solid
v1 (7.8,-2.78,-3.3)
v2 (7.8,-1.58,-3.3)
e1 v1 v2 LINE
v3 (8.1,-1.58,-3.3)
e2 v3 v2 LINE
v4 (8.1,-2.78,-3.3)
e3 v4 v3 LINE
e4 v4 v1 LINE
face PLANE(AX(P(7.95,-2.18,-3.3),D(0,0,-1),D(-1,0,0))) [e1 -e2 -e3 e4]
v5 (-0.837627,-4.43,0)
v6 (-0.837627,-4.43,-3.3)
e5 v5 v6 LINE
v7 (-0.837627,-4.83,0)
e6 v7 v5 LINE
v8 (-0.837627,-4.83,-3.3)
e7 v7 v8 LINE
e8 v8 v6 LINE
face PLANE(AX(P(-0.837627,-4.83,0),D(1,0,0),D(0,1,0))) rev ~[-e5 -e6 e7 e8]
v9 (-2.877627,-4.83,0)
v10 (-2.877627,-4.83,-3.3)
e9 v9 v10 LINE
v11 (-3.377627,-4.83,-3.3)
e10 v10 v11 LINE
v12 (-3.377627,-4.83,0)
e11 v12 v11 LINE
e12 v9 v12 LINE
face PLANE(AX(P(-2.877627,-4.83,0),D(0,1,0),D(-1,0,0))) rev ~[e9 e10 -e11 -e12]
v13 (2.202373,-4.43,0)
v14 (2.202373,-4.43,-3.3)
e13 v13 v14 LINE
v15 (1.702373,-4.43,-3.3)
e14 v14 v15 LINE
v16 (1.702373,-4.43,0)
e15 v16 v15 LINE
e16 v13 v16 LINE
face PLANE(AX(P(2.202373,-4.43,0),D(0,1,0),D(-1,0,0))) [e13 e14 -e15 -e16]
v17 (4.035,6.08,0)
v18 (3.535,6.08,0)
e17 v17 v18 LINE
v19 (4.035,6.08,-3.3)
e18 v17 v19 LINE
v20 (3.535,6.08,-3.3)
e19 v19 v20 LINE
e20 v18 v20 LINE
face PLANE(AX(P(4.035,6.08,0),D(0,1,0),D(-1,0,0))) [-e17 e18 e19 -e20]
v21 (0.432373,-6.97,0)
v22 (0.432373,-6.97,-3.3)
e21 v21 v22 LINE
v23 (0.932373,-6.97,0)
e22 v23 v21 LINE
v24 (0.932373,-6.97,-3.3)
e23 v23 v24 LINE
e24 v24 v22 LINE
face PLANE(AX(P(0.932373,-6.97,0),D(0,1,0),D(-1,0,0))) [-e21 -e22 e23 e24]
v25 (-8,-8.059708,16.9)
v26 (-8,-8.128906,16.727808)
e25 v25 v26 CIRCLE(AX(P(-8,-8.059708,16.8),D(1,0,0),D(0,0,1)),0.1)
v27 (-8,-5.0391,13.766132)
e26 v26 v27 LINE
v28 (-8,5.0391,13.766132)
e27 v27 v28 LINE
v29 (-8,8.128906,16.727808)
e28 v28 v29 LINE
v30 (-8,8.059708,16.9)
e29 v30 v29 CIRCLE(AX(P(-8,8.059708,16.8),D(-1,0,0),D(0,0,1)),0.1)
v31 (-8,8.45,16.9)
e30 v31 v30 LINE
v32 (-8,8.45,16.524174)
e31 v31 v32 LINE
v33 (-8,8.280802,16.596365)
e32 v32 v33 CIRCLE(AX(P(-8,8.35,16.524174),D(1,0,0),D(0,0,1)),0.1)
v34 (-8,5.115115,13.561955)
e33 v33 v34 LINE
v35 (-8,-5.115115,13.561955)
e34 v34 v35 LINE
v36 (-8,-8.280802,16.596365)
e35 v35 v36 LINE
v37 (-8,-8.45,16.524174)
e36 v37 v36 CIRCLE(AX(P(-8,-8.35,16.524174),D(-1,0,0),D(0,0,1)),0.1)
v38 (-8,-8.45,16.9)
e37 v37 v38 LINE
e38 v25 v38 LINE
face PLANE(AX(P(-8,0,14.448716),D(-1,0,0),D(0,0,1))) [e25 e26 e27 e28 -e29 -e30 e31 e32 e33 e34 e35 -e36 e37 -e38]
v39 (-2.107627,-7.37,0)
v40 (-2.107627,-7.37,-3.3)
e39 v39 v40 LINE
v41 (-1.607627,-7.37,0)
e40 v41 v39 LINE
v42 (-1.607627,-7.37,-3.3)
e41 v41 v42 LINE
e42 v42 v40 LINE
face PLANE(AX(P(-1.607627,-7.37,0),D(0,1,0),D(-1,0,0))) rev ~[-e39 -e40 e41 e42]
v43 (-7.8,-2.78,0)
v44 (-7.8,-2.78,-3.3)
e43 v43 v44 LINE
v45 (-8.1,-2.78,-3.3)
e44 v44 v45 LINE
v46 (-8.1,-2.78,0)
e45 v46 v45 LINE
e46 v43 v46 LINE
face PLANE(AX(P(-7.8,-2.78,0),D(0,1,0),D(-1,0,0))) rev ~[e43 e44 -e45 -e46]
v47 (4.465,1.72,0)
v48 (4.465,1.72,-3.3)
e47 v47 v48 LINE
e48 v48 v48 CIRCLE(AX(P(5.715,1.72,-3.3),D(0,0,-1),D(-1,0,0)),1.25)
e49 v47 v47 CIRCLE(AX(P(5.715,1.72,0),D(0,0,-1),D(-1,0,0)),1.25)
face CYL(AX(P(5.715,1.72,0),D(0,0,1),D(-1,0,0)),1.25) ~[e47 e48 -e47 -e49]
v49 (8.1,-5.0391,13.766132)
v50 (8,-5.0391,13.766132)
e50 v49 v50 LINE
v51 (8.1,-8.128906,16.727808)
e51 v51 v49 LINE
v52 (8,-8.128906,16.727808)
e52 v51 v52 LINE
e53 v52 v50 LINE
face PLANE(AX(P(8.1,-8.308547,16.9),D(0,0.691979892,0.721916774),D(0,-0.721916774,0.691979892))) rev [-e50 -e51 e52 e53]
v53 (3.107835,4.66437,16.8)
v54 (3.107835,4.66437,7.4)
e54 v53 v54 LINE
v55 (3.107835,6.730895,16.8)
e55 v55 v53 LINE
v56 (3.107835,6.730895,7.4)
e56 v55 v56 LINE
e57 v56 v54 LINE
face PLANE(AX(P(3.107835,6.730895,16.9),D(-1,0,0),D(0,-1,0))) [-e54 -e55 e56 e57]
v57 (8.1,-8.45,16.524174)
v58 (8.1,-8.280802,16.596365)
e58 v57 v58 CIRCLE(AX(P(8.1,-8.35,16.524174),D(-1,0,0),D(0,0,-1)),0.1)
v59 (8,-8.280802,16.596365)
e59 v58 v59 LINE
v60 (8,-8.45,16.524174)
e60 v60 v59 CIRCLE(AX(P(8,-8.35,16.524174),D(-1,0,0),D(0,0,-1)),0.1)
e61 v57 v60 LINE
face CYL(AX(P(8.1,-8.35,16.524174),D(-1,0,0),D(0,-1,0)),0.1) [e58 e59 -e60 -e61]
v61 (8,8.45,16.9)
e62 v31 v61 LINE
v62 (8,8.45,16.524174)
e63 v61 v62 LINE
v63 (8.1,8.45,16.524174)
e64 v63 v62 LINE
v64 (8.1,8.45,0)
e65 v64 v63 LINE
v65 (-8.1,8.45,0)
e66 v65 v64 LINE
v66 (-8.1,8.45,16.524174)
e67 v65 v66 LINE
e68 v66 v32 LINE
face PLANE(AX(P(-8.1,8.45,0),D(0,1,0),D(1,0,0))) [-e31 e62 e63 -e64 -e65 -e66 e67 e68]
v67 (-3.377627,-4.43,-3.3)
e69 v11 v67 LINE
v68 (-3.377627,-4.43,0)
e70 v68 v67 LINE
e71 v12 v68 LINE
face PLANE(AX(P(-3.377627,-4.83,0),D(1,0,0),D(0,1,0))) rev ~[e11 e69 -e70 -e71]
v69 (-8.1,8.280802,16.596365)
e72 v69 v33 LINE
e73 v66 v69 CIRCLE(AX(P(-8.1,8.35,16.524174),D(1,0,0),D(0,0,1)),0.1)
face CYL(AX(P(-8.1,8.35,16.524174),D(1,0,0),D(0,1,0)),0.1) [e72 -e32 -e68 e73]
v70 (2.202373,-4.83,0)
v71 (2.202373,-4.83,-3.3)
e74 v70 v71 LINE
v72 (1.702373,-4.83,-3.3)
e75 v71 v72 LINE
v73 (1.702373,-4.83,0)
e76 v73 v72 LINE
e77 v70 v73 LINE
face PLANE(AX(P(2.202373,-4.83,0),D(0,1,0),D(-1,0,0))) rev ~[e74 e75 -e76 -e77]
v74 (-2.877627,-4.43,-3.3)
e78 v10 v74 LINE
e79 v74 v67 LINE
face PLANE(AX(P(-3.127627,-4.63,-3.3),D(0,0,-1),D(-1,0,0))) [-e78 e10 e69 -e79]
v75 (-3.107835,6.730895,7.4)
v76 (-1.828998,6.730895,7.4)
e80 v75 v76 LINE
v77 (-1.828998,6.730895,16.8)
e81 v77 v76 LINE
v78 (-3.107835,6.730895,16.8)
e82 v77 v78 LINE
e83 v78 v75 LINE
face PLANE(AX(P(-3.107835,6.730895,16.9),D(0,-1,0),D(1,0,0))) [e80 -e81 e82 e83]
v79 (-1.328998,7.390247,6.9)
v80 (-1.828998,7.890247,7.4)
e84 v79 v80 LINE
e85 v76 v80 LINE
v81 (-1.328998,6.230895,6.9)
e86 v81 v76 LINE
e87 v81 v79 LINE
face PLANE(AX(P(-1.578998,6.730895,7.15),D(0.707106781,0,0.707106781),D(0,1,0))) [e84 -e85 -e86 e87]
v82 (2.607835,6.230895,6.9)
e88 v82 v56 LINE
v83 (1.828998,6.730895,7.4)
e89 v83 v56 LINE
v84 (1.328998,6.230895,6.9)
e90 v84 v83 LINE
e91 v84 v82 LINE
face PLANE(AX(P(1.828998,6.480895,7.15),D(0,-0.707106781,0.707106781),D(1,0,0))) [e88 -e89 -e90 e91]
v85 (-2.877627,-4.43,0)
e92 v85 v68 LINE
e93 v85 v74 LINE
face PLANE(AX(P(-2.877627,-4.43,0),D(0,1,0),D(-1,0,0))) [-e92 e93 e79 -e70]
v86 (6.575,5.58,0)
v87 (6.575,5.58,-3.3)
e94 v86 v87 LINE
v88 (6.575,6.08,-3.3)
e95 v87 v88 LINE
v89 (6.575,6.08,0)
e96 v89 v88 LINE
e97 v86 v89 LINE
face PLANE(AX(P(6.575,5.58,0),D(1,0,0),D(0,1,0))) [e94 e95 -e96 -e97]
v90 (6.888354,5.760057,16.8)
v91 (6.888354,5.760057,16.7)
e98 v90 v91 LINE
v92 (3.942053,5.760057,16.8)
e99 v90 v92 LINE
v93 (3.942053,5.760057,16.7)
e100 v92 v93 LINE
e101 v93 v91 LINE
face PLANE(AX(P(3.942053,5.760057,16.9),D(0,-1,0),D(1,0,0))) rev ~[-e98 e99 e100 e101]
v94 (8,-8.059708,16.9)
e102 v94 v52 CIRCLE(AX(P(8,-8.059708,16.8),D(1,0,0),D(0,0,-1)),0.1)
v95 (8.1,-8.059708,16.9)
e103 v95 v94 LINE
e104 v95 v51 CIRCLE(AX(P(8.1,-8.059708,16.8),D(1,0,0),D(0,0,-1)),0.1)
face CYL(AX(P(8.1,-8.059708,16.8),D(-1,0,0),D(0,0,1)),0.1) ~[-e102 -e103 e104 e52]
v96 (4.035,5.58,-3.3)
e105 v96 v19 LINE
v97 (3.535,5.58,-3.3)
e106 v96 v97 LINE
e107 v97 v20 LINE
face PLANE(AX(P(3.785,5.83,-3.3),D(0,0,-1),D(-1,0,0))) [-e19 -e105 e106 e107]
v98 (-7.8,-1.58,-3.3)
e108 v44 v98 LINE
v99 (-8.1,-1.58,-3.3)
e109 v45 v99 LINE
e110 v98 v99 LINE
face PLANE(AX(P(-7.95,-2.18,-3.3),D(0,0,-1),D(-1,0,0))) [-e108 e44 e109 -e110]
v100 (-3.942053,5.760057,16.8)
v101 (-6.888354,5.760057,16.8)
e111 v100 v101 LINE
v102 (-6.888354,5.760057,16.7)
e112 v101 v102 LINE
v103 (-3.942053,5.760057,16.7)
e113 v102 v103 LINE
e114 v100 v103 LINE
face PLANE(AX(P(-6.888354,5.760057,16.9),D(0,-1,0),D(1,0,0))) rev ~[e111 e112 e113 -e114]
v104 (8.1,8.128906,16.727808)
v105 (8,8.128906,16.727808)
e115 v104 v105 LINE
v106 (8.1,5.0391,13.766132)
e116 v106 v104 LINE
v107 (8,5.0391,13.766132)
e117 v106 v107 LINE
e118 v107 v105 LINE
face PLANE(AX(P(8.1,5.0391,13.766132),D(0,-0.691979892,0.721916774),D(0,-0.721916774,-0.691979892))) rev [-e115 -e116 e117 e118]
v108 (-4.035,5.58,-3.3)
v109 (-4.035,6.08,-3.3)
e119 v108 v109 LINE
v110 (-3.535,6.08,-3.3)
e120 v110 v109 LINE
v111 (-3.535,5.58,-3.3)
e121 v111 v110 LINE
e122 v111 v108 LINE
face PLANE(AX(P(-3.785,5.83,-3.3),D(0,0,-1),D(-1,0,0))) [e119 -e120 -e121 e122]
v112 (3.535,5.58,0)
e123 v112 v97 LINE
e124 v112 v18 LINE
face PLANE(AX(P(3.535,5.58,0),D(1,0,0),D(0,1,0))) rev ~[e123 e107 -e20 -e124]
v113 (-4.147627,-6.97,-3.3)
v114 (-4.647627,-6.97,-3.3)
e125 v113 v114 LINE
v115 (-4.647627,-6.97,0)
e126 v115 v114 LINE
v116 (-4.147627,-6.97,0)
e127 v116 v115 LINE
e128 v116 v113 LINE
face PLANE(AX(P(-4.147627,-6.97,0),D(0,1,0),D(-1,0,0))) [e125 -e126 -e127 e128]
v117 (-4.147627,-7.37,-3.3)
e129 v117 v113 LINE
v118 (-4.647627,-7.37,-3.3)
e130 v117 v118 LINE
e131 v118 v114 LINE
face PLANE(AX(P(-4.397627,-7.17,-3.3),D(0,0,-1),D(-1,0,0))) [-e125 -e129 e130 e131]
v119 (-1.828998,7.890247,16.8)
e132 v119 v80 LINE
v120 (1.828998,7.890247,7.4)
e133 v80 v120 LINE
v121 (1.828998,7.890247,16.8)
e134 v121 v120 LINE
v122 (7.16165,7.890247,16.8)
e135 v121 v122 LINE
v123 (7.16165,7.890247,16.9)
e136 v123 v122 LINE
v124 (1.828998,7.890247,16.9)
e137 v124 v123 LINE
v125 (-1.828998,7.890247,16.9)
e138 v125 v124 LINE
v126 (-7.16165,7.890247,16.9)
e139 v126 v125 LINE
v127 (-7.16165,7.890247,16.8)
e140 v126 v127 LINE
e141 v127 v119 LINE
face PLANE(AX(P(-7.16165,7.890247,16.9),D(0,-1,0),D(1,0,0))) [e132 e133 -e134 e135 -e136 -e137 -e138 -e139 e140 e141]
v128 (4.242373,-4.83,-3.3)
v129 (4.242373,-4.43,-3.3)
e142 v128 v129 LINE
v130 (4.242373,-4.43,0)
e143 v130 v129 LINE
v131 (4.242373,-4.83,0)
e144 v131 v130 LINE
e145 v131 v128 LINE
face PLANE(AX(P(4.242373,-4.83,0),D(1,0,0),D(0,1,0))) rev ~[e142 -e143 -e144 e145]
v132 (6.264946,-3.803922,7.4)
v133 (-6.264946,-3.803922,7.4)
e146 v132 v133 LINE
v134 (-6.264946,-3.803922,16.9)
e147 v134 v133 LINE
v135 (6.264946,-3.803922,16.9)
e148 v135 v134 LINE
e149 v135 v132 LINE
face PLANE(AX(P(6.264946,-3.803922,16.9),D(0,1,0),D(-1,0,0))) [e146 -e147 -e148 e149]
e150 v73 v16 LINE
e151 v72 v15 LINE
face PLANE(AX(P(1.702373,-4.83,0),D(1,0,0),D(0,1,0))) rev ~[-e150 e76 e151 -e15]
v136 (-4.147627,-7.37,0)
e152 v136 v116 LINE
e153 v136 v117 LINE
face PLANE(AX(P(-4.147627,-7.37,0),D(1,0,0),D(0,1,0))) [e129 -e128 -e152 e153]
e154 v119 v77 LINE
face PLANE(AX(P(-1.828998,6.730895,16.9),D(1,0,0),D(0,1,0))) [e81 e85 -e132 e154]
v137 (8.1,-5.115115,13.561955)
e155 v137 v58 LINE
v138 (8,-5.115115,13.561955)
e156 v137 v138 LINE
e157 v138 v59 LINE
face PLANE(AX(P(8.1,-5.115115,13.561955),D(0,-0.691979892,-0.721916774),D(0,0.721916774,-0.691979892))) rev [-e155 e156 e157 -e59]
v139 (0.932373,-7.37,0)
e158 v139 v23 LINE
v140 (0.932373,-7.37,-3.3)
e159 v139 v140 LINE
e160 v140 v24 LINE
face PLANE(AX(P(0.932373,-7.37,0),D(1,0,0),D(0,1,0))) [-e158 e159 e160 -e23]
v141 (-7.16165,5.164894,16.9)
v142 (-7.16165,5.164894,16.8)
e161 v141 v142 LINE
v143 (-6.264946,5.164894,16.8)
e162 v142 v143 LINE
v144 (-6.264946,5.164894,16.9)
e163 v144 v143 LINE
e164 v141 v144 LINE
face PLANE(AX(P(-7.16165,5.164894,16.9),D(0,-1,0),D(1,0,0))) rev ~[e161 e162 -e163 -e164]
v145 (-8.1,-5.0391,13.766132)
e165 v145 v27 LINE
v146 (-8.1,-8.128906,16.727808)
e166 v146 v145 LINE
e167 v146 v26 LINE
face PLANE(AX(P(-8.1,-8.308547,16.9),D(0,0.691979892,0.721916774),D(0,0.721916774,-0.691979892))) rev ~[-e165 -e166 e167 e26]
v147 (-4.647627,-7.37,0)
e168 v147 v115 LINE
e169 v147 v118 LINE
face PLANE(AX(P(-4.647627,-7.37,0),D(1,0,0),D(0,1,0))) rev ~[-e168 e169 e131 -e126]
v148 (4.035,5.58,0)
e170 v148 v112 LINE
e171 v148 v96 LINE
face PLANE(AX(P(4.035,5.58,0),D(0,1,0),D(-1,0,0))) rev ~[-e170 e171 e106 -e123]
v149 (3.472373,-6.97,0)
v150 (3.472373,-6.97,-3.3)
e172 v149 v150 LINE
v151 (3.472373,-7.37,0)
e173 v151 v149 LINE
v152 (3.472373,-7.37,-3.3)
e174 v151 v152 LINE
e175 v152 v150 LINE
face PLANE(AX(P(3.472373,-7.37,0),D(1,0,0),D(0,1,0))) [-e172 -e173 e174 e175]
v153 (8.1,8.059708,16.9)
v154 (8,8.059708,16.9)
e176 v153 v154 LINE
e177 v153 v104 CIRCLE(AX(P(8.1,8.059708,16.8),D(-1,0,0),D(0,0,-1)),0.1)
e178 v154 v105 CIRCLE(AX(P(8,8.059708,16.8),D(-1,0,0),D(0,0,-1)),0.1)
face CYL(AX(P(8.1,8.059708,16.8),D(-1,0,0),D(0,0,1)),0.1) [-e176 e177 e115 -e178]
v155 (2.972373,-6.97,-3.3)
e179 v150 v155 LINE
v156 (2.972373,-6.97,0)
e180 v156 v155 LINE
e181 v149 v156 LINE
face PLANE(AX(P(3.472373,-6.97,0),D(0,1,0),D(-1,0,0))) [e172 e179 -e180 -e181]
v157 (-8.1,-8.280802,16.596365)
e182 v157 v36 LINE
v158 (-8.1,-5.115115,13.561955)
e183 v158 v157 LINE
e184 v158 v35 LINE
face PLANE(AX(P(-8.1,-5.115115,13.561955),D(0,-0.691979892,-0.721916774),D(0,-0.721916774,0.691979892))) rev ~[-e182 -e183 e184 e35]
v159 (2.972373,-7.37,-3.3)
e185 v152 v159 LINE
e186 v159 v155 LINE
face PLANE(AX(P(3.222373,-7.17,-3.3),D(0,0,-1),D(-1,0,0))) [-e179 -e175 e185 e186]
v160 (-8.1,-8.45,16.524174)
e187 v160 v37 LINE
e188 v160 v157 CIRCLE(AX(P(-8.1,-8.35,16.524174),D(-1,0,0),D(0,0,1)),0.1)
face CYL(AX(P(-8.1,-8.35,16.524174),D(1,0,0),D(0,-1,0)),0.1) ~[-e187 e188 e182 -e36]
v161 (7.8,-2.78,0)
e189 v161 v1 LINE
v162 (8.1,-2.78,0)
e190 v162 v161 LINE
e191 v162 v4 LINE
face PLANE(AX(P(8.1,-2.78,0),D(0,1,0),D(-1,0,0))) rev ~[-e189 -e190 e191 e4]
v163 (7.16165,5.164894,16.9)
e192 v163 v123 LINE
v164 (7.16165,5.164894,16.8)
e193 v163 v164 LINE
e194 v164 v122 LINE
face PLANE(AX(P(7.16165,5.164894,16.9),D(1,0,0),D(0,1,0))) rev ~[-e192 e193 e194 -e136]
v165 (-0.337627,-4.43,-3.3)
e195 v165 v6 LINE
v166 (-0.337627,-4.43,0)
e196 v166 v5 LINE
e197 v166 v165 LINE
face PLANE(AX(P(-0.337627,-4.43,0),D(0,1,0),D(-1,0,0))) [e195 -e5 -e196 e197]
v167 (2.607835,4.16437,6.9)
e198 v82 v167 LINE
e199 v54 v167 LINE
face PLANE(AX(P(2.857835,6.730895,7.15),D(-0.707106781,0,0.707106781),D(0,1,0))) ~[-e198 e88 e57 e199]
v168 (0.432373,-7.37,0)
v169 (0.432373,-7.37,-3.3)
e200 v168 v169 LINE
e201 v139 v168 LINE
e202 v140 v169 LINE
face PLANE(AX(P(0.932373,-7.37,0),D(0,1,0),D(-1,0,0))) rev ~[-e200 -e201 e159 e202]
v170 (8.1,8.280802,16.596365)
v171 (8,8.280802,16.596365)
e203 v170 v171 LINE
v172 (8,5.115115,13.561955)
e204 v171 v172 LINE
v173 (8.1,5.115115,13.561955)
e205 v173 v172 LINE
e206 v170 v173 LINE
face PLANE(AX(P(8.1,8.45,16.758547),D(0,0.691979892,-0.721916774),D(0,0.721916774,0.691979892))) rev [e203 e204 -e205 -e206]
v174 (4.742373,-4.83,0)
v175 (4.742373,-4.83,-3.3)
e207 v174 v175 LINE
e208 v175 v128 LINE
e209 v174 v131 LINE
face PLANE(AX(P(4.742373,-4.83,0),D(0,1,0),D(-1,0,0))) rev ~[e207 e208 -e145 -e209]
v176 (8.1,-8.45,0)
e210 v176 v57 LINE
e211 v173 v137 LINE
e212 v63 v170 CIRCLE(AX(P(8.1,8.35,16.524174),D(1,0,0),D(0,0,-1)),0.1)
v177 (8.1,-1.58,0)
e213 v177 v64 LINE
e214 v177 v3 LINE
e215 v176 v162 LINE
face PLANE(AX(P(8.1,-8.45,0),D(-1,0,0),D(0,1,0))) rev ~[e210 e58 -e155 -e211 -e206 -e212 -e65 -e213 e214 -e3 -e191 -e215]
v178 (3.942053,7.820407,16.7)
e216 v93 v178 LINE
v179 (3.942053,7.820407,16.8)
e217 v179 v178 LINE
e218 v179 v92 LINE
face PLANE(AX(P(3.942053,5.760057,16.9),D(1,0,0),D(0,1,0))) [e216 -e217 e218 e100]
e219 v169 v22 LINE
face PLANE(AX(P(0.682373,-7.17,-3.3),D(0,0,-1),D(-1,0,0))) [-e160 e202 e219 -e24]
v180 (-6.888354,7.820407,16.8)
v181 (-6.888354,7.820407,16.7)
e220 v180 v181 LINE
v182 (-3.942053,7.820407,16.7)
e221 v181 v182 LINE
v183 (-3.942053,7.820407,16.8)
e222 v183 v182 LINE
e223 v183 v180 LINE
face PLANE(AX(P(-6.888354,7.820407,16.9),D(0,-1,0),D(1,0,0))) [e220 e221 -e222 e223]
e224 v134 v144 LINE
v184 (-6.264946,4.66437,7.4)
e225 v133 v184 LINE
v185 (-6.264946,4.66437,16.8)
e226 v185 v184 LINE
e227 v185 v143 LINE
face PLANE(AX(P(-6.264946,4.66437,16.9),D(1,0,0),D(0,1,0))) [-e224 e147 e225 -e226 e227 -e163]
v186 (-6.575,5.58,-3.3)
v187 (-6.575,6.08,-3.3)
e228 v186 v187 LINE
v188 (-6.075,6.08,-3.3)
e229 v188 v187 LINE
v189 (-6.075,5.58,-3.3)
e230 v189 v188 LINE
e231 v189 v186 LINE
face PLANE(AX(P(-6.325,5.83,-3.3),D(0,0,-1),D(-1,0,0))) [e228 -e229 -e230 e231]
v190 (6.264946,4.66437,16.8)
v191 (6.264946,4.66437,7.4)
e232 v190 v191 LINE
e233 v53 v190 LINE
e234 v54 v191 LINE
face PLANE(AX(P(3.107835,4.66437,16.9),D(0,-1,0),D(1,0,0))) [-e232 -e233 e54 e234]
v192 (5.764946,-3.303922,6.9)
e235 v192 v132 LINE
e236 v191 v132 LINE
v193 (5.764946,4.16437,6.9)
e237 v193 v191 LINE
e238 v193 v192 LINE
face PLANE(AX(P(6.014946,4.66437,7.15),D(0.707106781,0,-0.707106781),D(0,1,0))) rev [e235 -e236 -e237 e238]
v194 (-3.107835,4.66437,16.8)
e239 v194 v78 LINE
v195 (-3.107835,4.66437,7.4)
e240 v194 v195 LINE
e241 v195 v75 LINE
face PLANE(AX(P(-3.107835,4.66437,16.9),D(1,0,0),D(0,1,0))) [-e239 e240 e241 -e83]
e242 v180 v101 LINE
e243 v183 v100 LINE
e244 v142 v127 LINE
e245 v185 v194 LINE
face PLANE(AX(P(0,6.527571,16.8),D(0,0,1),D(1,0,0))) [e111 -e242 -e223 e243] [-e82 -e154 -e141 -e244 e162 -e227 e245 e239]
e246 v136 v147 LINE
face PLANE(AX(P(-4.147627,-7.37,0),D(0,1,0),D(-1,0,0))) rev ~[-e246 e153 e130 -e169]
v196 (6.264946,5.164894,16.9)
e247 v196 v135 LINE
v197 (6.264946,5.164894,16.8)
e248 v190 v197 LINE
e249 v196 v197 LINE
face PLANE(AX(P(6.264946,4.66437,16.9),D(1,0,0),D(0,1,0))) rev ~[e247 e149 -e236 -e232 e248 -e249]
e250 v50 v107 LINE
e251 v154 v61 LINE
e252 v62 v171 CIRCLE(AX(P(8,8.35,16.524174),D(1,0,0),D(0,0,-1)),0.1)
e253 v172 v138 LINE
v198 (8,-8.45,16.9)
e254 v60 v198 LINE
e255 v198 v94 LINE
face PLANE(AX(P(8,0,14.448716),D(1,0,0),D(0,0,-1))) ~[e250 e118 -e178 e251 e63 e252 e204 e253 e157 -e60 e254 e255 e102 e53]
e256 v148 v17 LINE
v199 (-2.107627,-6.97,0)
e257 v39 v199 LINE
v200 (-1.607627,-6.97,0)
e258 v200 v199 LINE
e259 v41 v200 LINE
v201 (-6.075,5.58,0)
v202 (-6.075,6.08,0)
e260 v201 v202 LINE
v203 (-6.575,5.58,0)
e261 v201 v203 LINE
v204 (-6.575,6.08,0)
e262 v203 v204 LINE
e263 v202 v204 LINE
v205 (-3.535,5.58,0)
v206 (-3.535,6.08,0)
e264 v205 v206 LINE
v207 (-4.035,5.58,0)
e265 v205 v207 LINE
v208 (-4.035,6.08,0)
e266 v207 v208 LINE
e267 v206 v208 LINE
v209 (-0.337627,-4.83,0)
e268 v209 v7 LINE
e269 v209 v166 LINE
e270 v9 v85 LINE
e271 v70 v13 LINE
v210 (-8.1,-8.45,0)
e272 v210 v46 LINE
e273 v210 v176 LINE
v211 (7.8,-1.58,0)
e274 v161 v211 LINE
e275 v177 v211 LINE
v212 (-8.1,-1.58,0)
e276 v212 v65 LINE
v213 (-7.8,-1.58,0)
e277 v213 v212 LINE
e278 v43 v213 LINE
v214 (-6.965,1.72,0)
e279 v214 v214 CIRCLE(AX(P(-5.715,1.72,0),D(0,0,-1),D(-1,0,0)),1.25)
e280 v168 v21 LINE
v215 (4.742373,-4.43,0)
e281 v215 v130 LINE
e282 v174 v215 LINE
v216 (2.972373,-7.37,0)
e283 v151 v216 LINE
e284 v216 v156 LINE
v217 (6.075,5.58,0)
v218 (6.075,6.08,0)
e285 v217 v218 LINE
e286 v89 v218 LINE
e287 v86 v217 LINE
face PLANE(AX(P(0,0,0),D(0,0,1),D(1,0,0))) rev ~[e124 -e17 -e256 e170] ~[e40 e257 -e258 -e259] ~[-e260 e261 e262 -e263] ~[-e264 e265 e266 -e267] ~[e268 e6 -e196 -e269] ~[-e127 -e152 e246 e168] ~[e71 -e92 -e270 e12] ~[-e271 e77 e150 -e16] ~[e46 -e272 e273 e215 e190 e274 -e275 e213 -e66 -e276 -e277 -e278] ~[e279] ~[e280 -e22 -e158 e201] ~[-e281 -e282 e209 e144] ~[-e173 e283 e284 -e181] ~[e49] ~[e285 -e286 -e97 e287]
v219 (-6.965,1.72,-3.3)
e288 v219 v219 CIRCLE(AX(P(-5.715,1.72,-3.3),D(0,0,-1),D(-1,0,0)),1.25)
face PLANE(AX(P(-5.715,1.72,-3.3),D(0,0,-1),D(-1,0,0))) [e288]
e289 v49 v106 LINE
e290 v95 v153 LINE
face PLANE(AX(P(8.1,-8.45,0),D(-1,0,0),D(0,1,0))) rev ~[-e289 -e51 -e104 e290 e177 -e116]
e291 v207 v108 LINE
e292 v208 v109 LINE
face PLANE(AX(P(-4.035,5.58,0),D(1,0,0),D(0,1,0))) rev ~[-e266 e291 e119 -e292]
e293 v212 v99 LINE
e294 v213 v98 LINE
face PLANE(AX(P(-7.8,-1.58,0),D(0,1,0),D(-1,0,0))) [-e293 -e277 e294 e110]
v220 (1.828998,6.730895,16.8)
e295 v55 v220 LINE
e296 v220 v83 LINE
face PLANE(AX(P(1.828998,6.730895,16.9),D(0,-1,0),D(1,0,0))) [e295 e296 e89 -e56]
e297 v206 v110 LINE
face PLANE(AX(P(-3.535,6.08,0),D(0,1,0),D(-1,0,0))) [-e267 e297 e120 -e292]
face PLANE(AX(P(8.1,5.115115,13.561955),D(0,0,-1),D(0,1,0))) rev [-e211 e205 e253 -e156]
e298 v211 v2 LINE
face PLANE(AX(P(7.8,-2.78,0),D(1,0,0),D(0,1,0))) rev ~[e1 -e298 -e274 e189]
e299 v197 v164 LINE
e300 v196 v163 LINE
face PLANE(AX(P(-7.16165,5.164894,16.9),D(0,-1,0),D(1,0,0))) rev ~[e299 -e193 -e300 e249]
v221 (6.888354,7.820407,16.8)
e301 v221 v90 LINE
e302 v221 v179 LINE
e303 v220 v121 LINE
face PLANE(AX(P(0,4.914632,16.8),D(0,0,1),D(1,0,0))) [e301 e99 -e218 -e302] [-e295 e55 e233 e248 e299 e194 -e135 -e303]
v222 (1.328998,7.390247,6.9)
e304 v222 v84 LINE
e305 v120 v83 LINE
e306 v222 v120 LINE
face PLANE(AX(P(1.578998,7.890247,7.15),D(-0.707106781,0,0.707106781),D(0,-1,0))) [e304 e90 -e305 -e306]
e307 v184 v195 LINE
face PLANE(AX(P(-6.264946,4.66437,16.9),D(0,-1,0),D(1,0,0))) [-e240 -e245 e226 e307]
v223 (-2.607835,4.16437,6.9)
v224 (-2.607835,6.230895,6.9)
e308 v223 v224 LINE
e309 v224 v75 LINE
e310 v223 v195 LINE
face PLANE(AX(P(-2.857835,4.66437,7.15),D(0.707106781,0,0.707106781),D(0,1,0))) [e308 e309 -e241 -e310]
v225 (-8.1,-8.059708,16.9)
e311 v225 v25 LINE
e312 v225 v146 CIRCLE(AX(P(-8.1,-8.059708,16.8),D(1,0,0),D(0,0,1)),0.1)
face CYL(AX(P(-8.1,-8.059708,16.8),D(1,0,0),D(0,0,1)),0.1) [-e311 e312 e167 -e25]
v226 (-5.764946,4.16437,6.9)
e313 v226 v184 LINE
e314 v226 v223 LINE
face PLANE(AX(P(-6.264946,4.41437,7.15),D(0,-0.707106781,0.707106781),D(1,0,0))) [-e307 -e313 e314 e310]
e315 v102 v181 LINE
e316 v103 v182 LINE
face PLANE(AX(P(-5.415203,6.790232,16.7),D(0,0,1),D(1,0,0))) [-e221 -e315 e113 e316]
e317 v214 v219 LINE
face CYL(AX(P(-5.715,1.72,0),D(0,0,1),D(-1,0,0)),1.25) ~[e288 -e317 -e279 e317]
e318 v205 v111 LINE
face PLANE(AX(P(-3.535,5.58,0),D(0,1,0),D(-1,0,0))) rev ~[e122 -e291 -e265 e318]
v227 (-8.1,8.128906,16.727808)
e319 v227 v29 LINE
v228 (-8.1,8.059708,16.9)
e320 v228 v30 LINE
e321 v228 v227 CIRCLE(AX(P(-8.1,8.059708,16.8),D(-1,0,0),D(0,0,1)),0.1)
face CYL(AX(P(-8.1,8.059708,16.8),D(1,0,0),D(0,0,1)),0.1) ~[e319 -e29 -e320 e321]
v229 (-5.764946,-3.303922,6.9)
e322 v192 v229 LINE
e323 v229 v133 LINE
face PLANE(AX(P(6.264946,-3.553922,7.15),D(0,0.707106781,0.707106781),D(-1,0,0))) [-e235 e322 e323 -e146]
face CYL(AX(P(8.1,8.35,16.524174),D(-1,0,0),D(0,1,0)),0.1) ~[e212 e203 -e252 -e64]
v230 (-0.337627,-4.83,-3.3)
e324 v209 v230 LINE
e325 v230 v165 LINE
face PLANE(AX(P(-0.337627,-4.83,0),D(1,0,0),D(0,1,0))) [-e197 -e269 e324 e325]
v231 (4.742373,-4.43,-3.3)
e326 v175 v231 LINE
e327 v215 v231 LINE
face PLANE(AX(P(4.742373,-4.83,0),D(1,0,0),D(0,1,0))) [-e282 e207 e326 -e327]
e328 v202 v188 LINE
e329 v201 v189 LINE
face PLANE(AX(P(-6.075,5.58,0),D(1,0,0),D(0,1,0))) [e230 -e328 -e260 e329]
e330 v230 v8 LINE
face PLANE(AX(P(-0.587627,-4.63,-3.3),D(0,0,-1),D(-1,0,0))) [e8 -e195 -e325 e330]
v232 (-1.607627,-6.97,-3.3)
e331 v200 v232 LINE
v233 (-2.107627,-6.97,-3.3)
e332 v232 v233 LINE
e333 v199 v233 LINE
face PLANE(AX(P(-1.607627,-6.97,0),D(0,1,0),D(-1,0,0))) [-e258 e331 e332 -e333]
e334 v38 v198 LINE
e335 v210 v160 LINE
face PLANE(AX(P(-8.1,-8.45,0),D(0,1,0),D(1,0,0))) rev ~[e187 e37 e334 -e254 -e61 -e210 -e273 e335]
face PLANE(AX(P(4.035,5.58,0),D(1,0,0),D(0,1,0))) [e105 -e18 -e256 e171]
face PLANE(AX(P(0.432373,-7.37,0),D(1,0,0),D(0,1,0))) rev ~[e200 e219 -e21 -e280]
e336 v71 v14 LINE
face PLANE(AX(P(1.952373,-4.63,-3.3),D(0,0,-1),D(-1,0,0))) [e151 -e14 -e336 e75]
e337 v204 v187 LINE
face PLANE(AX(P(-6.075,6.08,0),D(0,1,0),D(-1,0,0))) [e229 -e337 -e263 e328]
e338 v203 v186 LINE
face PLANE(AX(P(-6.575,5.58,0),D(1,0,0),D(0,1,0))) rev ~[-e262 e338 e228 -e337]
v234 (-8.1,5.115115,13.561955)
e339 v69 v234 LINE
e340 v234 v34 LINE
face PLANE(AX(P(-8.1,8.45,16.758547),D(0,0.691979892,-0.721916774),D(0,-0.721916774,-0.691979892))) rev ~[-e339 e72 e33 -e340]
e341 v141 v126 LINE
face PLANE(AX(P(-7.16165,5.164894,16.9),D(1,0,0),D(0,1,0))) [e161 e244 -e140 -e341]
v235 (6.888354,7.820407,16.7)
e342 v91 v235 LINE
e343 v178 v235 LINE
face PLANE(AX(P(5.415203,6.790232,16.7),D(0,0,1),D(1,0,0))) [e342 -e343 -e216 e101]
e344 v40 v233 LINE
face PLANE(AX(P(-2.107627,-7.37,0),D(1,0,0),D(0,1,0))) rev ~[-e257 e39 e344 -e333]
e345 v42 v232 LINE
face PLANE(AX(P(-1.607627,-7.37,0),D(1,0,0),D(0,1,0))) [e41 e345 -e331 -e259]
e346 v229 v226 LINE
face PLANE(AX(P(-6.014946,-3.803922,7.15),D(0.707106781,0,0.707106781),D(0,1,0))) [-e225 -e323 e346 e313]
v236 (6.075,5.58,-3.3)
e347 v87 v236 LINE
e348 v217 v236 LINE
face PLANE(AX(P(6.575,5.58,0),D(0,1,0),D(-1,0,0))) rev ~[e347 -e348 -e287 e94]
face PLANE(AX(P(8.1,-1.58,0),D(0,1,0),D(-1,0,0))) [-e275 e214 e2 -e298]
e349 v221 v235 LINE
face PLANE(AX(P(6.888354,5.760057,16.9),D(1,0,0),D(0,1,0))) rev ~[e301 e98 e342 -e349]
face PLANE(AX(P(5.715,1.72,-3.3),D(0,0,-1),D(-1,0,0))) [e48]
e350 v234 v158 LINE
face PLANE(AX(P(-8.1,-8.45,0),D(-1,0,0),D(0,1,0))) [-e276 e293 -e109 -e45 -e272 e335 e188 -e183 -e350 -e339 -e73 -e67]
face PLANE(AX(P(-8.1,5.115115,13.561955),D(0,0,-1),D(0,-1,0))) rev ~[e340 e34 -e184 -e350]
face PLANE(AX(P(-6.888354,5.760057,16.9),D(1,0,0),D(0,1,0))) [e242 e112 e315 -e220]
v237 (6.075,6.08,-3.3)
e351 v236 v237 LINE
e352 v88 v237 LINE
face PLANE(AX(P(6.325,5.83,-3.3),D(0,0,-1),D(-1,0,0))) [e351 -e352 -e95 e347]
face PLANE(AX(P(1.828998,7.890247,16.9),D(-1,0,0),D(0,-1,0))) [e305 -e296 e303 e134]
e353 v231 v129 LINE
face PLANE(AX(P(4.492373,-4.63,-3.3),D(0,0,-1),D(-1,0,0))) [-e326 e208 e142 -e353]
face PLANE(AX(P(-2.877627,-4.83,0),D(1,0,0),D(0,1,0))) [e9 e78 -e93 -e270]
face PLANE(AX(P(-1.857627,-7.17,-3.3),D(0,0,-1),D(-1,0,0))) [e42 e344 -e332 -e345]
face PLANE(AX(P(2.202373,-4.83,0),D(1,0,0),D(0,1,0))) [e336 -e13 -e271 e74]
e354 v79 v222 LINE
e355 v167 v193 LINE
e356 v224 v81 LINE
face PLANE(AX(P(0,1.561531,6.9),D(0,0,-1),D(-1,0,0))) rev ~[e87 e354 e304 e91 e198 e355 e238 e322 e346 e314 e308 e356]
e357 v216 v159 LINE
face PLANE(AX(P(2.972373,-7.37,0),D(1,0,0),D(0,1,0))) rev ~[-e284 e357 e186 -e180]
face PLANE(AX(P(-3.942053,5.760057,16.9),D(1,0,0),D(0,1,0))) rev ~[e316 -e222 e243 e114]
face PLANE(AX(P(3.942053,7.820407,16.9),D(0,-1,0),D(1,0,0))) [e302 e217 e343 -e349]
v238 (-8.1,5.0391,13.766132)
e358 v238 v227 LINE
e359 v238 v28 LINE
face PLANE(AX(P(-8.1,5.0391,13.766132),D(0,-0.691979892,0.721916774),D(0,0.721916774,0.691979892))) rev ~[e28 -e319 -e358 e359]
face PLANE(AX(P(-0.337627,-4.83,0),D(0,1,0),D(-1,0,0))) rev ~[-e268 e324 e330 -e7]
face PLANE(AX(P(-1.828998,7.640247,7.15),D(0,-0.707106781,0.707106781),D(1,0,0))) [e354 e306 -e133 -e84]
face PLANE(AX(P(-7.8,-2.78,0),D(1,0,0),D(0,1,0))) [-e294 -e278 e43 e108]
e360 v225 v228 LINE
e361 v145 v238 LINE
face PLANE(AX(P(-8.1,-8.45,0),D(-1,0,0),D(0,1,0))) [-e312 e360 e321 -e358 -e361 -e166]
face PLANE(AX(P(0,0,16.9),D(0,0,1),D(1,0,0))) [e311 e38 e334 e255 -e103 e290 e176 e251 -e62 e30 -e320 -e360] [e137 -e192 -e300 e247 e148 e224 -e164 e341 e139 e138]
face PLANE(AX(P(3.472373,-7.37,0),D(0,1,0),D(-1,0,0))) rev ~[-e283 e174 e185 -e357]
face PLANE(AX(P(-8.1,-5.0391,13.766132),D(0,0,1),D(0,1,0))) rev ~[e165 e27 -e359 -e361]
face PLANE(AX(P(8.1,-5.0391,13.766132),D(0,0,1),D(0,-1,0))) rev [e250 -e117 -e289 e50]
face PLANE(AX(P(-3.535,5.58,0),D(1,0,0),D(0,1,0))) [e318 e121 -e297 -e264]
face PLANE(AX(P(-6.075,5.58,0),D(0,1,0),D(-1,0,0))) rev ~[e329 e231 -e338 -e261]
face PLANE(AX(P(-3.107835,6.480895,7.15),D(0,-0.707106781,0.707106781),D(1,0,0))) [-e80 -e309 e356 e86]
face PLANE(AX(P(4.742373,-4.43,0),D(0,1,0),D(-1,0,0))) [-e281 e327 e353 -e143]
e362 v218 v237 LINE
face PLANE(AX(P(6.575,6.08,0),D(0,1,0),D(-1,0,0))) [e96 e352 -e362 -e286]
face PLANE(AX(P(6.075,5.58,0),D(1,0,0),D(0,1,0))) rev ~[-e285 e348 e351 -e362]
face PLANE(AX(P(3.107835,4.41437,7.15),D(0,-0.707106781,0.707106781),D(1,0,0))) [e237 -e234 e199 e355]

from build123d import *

# Parameters (mm, degrees)
SKETCH_1_W          = 16.2
SKETCH_1_H          = 16.9
EXTRUDE_1_DEPTH     = 16.9
CUT_EXTRUDE_1_DEPTH = 10
SKETCH_3_W          = 2.946300562
SKETCH_3_H          = 2.060350043
CUT_EXTRUDE_2_DEPTH = 0.2
SKETCH_4_W          = 14.323300114
SKETCH_4_H          = 2.725353119
CUT_EXTRUDE_3_DEPTH = 0.1
SKETCH_5_W          = 12.529891582
SKETCH_5_H          = 0.500524342
CUT_EXTRUDE_4_DEPTH = 0.1
CHAMFER_1_SIZE      = 0.5
CUT_EXTRUDE_5_DEPTH = 0.1
FILLET_1_R          = 0.1
SKETCH_7_R          = 1.25
SKETCH_7_W          = 0.5
SKETCH_7_H          = 0.4
SKETCH_7_H_2        = 0.5
SKETCH_7_W_2        = 0.3
SKETCH_7_H_3        = 1.2
EXTRUDE_2_DEPTH     = 3.3


with BuildPart() as part:
    # Эскиз1 → Бобышка-Вытянуть1 (new body)
    with BuildSketch(Plane.XY):
        Rectangle(SKETCH_1_W, SKETCH_1_H)
    extrude(amount=EXTRUDE_1_DEPTH)

    # Эскиз2 → Вырез-Вытянуть1 (cut)
    with BuildSketch(Plane.XY.offset(16.9)):
        Polygon((-6.264945791, -3.803921673), (-6.264945791, 4.664369649), (-3.10783524, 4.664369649), (-3.10783524, 6.730894781), (-1.828998264, 6.730894781), (-1.828998264, 7.89024711), (1.828998264, 7.89024711), (1.828998264, 6.730894781), (3.10783524, 6.730894781), (3.10783524, 4.664369649), (6.264945791, 4.664369649), (6.264945791, -3.803921673), align=None)
    extrude(amount=-CUT_EXTRUDE_1_DEPTH, mode=Mode.SUBTRACT)

    # Эскиз3 → Вырез-Вытянуть2 (cut)
    with BuildSketch(Plane.XY.offset(16.9)):
        with Locations((-5.415203287, 6.790232272)):
            Rectangle(SKETCH_3_W, SKETCH_3_H)
        with Locations((5.415203287, 6.790232272)):
            Rectangle(SKETCH_3_W, SKETCH_3_H)
    extrude(amount=-CUT_EXTRUDE_2_DEPTH, mode=Mode.SUBTRACT)

    # Эскиз4 → Вырез-Вытянуть3 (cut)
    with BuildSketch(Plane.XY.offset(16.9)):
        with Locations((0, 6.527570551)):
            Rectangle(SKETCH_4_W, SKETCH_4_H)
    extrude(amount=-CUT_EXTRUDE_3_DEPTH, mode=Mode.SUBTRACT)

    # Эскиз5 → Вырез-Вытянуть4 (cut)
    with BuildSketch(Plane.XY.offset(16.9)):
        with Locations((0, 4.91463182)):
            Rectangle(SKETCH_5_W, SKETCH_5_H)
    extrude(amount=-CUT_EXTRUDE_4_DEPTH, mode=Mode.SUBTRACT)

    # Фаска1
    chamfer_1_edges = [part.edges().sort_by_distance(p)[0] for p in [
        (0, -3.803921673, 6.9),
        (-6.264945791, 0.430223988, 6.9),
        (-4.686390516, 4.664369649, 6.9),
        (-3.10783524, 5.697632215, 6.9),
        (-2.468416752, 6.730894781, 6.9),
        (-1.828998264, 7.310570945, 6.9),
        (0, 7.89024711, 6.9),
        (1.828998264, 7.310570945, 6.9),
        (2.468416752, 6.730894781, 6.9),
        (3.10783524, 5.697632215, 6.9),
        (4.686390516, 4.664369649, 6.9),
        (6.264945791, 0.430223988, 6.9),
    ]]
    chamfer(chamfer_1_edges, length=CHAMFER_1_SIZE)

    # Эскиз6 → Вырез-Вытянуть5 (cut)
    with BuildSketch(Plane.ZY.offset(8.1)):
        Polygon((16.758546947, 8.45), (13.561955432, 5.115115471), (13.561955432, -5.115115471), (16.758546947, -8.45), (16.9, -8.45), (16.9, -8.308546947), (13.766132229, -5.039099757), (13.766132229, 5.039099757), (16.9, 8.308546947), (16.9, 8.45), align=None)
    cut_extrude_5 = extrude(amount=-CUT_EXTRUDE_5_DEPTH, mode=Mode.SUBTRACT)

    # Зеркальное отражение1: Вырез-Вытянуть5 across plane
    add(cut_extrude_5.mirror(Plane(origin=(0, 0, 0), x_dir=(0, 0, 1), z_dir=(1, 0, 0))), mode=Mode.SUBTRACT)

    # Скругление1
    fillet_1_edges = [part.edges().sort_by_distance(p)[0] for p in [
        (-8.05, 8.45, 16.758546947),
        (-8.05, 8.308546947, 16.9),
        (-8.05, -8.308546947, 16.9),
        (-8.05, -8.45, 16.758546947),
        (8.05, 8.45, 16.758546947),
        (8.05, -8.45, 16.758546947),
        (8.05, -8.308546947, 16.9),
        (8.05, 8.308546947, 16.9),
    ]]
    fillet(fillet_1_edges, radius=FILLET_1_R)

    # Эскиз7 → Бобышка-Вытянуть2 (add)
    with BuildSketch(Plane(origin=(0, 0, 0), x_dir=(-1, 0, 0), z_dir=(0, 0, -1))):
        with Locations((-5.715, 1.72)):
            Circle(SKETCH_7_R)
        with Locations((5.715, 1.72)):
            Circle(SKETCH_7_R)
        with Locations((-4.492372984, -4.63)):
            Rectangle(SKETCH_7_W, SKETCH_7_H)
        with Locations((-3.222372984, -7.17)):
            Rectangle(SKETCH_7_W, SKETCH_7_H)
        with Locations((-1.952372984, -4.63)):
            Rectangle(SKETCH_7_W, SKETCH_7_H)
        with Locations((-0.682372984, -7.17)):
            Rectangle(SKETCH_7_W, SKETCH_7_H)
        with Locations((0.587627016, -4.63)):
            Rectangle(SKETCH_7_W, SKETCH_7_H)
        with Locations((1.857627016, -7.17)):
            Rectangle(SKETCH_7_W, SKETCH_7_H)
        with Locations((3.127627016, -4.63)):
            Rectangle(SKETCH_7_W, SKETCH_7_H)
        with Locations((4.397627016, -7.17)):
            Rectangle(SKETCH_7_W, SKETCH_7_H)
        with Locations((-6.325, 5.83)):
            Rectangle(SKETCH_7_W, SKETCH_7_H_2)
        with Locations((-3.785, 5.83)):
            Rectangle(SKETCH_7_W, SKETCH_7_H_2)
        with Locations((3.785, 5.83)):
            Rectangle(SKETCH_7_W, SKETCH_7_H_2)
        with Locations((6.325, 5.83)):
            Rectangle(SKETCH_7_W, SKETCH_7_H_2)
        with Locations((-7.95, -2.18)):
            Rectangle(SKETCH_7_W_2, SKETCH_7_H_3)
        with Locations((7.95, -2.18)):
            Rectangle(SKETCH_7_W_2, SKETCH_7_H_3)
    extrude(amount=EXTRUDE_2_DEPTH)


solid = part.part
